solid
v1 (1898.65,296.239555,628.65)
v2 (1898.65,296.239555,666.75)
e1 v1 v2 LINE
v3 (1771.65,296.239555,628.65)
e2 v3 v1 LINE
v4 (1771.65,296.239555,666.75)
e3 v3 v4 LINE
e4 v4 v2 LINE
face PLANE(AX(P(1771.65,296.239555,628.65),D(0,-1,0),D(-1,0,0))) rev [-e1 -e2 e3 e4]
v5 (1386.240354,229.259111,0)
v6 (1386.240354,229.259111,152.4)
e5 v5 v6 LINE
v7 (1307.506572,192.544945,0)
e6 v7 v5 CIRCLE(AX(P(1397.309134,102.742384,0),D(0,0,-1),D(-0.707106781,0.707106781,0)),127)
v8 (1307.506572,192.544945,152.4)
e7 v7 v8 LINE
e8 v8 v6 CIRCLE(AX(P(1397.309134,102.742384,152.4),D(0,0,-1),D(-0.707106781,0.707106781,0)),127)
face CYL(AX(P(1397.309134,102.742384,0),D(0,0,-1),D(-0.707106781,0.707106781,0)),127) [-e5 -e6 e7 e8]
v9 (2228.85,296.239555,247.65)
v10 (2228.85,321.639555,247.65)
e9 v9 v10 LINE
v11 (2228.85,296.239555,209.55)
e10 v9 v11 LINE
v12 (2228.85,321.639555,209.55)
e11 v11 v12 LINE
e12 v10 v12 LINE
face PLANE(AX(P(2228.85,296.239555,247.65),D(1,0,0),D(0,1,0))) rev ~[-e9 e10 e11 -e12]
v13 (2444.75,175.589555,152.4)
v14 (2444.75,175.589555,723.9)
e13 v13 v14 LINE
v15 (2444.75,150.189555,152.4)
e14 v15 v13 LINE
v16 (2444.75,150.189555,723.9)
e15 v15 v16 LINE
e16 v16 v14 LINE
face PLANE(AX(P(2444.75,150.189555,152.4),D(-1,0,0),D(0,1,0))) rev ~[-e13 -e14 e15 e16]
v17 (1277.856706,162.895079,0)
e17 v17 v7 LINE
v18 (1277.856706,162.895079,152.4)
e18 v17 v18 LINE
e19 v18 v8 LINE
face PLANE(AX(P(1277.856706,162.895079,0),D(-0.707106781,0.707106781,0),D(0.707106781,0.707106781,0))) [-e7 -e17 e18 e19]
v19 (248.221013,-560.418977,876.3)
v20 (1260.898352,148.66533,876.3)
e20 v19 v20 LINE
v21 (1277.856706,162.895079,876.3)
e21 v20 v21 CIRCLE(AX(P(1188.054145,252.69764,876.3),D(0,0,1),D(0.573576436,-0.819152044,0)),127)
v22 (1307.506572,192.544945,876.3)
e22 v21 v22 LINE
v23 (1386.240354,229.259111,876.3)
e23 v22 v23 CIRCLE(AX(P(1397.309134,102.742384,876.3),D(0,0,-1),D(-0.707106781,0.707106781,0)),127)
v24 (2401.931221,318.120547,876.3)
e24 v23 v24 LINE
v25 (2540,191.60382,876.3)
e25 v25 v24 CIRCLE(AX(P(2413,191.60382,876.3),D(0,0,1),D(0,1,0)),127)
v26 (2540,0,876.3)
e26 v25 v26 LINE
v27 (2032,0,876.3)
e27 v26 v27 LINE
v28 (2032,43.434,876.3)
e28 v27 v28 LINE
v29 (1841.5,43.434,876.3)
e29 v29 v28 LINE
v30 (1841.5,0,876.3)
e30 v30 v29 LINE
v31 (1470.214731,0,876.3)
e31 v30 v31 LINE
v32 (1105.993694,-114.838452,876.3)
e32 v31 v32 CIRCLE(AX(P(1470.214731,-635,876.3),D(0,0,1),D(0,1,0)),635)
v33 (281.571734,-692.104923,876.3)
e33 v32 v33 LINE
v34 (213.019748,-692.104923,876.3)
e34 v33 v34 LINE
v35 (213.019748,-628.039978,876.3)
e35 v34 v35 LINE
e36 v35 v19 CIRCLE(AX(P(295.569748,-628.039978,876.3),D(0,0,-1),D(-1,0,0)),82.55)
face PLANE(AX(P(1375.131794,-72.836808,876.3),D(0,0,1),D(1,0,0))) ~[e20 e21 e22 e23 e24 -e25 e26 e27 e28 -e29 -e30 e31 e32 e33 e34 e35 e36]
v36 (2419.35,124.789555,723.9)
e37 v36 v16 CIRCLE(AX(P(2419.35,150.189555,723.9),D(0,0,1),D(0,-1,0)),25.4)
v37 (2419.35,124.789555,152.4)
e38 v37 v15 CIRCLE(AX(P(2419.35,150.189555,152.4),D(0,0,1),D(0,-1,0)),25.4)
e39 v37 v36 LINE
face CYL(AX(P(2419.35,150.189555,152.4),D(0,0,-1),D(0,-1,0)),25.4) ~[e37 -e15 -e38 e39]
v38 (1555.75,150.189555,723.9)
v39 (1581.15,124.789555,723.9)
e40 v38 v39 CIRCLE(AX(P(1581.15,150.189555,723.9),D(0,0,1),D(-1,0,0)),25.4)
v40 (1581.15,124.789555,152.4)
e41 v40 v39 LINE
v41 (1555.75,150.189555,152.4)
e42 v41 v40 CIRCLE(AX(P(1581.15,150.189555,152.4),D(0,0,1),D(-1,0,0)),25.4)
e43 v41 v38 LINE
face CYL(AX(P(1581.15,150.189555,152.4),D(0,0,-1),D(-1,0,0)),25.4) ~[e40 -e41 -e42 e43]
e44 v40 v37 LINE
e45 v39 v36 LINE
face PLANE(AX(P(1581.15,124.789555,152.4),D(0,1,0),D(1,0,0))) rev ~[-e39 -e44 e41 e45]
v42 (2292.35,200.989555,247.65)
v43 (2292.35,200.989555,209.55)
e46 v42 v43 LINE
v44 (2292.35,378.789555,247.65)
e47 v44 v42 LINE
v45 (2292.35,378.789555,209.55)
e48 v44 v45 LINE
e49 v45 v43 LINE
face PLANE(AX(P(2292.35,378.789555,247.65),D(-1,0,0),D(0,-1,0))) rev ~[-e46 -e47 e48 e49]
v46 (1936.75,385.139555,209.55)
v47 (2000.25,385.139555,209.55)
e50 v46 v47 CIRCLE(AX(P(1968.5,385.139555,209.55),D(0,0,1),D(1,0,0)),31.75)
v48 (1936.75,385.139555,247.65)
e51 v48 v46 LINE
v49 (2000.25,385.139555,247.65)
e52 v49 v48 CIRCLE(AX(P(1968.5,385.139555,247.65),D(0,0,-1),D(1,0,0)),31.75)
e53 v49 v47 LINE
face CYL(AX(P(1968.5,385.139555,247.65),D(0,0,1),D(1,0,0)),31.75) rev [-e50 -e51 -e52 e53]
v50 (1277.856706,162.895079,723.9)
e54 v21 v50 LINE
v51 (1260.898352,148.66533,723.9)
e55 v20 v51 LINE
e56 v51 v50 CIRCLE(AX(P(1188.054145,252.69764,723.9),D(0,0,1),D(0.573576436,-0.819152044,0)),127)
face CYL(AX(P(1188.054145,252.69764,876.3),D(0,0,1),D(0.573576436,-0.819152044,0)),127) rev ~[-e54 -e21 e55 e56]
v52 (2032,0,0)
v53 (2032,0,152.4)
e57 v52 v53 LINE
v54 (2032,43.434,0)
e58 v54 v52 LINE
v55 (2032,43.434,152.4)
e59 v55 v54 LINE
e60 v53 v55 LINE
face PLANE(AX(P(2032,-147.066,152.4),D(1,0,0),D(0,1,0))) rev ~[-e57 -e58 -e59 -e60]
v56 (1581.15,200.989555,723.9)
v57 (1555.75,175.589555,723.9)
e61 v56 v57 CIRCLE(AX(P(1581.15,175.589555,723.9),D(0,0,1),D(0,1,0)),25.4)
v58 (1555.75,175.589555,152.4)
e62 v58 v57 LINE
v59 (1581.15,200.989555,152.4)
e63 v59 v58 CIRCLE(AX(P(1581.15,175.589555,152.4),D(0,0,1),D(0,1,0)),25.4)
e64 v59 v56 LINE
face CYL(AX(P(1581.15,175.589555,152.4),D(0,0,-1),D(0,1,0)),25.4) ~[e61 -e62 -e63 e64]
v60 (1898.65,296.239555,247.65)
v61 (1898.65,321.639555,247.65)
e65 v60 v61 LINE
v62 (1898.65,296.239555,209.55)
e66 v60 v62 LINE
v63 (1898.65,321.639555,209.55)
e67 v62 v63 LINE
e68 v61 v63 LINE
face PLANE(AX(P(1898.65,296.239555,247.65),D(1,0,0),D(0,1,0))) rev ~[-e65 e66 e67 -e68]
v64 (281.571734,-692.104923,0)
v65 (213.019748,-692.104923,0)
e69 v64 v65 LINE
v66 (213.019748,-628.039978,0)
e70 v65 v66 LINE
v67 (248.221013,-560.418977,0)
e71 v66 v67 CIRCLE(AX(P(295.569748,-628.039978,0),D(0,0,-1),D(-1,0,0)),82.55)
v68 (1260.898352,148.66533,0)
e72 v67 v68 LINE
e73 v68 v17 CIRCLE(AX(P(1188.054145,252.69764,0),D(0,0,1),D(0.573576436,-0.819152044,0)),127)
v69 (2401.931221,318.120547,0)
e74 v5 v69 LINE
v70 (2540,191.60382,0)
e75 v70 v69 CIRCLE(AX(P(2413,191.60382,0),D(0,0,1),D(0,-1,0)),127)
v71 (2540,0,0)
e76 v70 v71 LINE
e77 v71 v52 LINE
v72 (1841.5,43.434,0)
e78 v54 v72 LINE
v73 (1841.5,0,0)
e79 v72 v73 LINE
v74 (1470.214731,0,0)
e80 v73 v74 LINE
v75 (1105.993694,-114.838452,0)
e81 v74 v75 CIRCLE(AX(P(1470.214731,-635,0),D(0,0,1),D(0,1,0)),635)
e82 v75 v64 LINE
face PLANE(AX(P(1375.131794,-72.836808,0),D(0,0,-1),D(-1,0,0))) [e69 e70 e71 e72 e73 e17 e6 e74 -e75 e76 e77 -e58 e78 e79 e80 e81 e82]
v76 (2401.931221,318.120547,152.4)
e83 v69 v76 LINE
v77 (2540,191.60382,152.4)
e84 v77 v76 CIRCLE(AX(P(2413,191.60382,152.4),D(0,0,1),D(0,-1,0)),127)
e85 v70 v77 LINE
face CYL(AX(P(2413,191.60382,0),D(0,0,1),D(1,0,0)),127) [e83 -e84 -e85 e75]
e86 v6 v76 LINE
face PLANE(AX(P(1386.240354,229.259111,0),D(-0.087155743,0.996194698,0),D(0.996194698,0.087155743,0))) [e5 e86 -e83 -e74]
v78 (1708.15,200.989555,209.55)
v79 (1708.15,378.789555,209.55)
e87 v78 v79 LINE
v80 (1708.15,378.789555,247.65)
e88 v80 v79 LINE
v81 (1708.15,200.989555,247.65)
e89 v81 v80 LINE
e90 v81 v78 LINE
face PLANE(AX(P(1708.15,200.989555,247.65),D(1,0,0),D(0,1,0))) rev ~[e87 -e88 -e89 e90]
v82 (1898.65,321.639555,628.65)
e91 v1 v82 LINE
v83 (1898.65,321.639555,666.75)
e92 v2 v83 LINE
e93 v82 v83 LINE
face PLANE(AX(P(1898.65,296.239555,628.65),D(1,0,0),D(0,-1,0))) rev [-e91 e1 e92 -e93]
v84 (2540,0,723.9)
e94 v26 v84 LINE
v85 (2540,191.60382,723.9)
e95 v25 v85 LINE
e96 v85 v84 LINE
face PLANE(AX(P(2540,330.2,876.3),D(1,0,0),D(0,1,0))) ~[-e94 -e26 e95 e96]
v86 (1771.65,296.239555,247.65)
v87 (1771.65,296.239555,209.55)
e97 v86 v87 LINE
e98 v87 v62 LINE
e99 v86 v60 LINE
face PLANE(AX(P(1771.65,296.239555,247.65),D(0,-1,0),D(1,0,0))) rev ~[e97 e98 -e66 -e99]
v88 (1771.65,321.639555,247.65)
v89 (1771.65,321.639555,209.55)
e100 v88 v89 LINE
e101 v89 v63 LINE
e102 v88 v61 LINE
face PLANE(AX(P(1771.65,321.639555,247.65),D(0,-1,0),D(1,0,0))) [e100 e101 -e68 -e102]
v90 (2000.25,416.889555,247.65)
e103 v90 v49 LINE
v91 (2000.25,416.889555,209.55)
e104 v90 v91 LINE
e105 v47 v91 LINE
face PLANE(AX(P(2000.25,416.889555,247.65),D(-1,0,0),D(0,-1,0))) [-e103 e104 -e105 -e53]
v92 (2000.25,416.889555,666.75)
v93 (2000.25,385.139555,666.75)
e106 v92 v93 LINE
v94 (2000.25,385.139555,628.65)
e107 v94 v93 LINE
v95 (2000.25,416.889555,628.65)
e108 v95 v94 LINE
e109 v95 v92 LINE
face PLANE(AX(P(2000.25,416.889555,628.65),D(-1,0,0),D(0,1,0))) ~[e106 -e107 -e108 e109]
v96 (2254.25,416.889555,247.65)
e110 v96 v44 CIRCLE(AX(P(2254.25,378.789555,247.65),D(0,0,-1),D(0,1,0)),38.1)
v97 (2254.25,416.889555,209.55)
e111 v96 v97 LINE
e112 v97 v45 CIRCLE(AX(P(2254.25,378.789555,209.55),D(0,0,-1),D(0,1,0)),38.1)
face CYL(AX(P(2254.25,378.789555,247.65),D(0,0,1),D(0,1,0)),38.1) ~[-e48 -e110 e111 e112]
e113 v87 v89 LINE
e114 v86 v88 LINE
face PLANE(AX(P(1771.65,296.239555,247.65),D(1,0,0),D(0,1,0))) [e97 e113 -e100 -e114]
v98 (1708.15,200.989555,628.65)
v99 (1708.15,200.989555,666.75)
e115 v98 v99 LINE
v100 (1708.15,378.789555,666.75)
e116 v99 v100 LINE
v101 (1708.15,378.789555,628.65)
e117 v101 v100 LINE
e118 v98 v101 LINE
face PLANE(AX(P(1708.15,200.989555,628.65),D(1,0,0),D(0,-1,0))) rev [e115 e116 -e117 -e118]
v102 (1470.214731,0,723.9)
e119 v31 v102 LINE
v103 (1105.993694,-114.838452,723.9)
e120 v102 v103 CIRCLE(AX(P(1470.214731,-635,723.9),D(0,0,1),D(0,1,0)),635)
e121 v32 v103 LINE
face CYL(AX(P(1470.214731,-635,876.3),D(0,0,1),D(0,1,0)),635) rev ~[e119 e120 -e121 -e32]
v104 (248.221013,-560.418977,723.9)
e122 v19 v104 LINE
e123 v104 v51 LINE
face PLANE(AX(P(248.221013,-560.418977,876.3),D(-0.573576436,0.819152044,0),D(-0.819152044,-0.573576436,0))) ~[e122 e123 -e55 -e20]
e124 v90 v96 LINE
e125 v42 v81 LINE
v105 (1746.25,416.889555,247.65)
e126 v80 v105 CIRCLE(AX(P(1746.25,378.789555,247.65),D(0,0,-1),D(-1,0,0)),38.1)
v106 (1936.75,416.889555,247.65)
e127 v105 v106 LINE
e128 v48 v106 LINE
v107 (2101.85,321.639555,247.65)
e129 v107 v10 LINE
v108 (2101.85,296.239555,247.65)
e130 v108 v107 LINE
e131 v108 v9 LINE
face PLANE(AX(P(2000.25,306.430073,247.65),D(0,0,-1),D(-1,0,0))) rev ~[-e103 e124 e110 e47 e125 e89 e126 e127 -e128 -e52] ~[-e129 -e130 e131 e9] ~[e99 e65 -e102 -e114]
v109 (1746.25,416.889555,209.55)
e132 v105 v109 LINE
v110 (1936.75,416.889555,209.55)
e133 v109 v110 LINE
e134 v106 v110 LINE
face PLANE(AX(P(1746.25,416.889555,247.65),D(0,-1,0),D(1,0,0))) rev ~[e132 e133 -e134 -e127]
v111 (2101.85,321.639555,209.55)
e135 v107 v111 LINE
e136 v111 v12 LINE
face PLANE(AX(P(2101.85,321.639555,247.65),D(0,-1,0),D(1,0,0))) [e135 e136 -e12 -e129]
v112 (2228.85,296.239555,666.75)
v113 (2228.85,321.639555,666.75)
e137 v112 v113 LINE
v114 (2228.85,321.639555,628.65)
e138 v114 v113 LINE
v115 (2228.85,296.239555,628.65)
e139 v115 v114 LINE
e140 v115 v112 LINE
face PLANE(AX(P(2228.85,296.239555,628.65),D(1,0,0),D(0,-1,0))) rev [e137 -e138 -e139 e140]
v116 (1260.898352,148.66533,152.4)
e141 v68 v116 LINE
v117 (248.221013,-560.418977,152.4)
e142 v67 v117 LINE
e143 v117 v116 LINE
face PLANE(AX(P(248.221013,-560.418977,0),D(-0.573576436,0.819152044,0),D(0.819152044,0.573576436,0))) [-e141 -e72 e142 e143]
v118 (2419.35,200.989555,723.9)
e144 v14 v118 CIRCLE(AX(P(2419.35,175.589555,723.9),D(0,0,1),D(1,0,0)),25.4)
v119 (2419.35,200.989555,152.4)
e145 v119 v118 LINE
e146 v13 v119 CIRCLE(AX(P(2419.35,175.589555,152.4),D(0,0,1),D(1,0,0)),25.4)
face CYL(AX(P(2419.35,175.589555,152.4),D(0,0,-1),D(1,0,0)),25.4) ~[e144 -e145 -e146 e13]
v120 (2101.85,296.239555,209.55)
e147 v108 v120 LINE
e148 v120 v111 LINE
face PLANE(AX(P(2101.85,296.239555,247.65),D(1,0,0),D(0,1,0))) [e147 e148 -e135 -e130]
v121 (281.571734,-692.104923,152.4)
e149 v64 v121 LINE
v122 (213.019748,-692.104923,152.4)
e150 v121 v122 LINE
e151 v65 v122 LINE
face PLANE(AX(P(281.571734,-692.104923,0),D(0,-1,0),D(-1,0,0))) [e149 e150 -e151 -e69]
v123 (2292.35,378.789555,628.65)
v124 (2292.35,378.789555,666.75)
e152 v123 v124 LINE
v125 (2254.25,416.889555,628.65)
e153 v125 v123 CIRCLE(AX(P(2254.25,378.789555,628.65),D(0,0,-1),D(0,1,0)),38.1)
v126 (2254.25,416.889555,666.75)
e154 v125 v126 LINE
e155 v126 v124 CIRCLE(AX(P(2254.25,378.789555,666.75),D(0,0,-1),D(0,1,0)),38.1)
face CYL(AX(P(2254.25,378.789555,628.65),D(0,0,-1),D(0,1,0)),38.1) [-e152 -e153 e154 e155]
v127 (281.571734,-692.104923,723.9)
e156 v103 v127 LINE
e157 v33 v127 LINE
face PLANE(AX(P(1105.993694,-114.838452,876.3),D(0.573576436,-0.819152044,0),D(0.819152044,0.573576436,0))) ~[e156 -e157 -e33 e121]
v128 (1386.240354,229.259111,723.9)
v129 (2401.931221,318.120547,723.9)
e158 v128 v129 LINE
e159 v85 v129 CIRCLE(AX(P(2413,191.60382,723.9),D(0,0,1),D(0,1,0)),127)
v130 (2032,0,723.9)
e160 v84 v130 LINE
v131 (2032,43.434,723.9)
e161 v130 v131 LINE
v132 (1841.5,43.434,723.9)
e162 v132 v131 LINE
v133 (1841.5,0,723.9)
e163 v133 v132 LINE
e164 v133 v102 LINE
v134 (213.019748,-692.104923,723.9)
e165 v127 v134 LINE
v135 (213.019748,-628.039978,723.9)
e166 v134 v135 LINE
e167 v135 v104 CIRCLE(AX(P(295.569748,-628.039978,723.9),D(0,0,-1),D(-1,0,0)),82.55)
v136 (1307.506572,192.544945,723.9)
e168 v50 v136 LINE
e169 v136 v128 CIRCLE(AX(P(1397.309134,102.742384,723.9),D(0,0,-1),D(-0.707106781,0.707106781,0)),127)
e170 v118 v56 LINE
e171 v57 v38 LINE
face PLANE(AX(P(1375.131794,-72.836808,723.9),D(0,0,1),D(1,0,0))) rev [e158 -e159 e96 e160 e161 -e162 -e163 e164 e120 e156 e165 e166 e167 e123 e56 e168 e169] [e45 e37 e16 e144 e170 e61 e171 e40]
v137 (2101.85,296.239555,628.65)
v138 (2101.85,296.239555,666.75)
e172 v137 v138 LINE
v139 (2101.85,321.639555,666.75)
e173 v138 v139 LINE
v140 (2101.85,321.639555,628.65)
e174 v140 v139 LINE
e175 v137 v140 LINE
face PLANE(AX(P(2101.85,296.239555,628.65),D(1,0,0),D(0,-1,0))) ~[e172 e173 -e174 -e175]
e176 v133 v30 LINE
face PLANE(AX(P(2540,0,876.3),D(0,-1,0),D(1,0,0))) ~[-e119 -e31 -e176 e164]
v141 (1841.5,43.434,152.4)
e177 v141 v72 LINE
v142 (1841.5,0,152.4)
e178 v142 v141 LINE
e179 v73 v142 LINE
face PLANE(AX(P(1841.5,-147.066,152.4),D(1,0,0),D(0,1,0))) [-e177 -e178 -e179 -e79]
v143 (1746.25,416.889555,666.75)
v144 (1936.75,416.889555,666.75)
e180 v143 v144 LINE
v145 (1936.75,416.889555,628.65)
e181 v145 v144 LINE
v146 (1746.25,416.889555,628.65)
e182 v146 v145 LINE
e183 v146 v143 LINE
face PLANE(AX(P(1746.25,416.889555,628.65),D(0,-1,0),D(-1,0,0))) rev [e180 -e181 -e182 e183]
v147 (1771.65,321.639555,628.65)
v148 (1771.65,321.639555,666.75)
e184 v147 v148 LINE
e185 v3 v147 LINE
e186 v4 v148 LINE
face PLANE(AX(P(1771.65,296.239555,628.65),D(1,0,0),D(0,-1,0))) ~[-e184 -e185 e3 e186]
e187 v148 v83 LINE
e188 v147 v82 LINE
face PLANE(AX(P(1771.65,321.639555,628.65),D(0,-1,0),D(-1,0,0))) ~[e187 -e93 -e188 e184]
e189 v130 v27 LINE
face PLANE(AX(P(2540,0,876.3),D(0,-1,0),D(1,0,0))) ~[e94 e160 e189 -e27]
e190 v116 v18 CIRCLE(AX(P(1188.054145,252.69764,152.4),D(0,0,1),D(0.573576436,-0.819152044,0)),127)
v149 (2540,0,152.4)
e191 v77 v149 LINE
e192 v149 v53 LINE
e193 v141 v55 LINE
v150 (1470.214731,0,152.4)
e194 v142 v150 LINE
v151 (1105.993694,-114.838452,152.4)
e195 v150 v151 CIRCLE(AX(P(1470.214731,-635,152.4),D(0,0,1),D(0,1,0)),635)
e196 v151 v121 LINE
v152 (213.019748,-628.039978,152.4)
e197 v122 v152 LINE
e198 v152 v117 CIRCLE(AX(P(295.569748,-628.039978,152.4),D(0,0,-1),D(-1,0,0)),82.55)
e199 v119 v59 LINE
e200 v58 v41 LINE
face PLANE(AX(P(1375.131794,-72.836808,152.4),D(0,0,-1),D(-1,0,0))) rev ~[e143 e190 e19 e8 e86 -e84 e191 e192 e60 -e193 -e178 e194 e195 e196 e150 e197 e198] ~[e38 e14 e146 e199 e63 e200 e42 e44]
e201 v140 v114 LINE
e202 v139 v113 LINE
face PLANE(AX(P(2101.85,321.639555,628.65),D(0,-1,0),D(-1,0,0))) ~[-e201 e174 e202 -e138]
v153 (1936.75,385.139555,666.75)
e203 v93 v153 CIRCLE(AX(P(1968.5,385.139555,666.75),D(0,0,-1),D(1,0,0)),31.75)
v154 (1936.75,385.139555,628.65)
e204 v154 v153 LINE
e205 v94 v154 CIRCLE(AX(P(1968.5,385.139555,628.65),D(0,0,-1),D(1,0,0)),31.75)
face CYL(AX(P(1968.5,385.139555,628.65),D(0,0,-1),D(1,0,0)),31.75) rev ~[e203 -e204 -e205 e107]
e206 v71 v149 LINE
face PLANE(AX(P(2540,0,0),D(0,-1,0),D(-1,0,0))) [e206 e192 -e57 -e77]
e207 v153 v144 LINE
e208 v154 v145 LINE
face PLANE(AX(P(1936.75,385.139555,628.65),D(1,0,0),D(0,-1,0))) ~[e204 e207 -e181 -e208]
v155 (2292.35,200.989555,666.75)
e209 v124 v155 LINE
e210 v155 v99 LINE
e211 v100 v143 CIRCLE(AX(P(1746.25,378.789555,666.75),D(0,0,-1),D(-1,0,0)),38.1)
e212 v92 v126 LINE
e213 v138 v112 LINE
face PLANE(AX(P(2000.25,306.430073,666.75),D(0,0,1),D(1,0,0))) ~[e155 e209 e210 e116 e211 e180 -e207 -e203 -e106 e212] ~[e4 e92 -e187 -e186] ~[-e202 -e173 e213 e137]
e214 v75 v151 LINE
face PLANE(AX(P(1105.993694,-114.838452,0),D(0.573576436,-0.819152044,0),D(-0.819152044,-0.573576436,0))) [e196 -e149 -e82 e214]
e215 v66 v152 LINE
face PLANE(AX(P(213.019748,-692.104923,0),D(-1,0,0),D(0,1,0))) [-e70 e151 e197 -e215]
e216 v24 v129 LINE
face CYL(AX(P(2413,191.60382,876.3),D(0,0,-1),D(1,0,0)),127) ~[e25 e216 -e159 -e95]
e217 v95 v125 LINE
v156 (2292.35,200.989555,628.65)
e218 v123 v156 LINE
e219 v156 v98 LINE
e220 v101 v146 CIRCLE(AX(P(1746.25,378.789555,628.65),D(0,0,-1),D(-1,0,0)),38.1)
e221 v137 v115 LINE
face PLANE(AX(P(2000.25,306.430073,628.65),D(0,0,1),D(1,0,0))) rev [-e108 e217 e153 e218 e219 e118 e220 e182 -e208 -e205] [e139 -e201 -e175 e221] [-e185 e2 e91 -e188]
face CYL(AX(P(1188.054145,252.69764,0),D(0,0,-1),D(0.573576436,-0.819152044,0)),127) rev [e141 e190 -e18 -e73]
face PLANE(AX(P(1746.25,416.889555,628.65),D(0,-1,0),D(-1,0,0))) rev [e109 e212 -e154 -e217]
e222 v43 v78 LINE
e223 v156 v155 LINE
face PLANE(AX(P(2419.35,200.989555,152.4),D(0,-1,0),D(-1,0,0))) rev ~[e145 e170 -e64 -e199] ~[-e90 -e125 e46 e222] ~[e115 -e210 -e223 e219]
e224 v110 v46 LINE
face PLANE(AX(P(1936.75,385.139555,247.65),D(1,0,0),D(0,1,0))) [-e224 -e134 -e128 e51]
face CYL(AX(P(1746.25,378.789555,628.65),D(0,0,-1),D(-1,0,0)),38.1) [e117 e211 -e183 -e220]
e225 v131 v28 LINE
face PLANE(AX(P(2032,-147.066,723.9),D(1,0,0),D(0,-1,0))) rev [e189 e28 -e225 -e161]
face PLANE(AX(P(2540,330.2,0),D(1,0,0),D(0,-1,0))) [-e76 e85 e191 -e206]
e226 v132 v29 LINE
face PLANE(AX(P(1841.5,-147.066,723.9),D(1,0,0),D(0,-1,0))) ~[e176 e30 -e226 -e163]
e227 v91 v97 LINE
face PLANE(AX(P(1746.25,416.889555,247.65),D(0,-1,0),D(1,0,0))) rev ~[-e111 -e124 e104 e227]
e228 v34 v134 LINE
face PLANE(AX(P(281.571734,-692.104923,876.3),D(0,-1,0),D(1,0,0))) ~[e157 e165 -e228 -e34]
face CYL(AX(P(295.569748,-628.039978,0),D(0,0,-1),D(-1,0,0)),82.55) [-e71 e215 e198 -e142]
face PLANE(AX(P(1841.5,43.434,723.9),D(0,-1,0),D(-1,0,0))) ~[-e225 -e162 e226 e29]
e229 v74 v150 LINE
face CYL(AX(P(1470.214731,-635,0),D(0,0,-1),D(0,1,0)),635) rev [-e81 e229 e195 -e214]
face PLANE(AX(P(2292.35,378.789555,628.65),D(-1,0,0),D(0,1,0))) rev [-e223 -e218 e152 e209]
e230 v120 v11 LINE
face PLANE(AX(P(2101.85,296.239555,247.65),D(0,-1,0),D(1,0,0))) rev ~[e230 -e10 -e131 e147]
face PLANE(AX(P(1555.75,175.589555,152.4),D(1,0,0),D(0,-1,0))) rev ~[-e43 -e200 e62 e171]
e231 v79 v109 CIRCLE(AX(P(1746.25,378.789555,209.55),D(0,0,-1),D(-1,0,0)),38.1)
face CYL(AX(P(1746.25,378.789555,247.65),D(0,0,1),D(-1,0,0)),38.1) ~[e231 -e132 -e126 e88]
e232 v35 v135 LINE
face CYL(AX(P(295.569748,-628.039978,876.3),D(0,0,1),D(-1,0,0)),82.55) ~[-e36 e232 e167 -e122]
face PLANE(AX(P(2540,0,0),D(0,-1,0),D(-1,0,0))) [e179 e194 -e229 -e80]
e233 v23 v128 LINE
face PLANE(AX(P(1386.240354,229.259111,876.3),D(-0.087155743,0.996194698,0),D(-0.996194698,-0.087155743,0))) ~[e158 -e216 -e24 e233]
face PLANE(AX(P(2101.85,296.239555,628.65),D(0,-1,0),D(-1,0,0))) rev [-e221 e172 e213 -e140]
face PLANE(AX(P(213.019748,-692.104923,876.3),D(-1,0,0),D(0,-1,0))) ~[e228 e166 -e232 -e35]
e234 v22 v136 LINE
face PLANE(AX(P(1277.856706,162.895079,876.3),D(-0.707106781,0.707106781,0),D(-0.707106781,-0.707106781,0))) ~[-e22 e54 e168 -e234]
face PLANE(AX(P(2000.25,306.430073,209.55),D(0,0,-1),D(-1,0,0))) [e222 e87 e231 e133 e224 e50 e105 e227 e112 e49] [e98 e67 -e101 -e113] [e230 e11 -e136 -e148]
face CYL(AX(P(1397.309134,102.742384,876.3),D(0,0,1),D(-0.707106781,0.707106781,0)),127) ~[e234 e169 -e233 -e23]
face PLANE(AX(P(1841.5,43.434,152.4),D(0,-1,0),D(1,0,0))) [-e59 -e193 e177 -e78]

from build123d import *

# Parameters (mm, degrees)
BOSS_EXTRUDE1_DEPTH  = 152.4
SKETCH2_W            = 190.5
SKETCH2_H            = 190.5
CUT_EXTRUDE1_DEPTH   = 254
BOSS_EXTRUDE2_DEPTH  = 571.5
FILLET1_R            = 127
FILLET1_OF_MIRROR1_R = 127
SKETCH8_W            = 127
SKETCH8_H            = 25.4
BOSS_EXTRUDE3_DEPTH  = 38.1
CUT_EXTRUDE2_DEPTH   = 43.18


with BuildPart() as part:
    # Sketch1 → Boss-Extrude1 (new body)
    with BuildSketch(Plane.XY):
        with BuildLine():
            Line((213.019747539, -692.104923164), (213.019747539, -628.039977762))
            ThreePointArc((213.019747539, -628.039977762), (222.347003261, -589.92262974), (248.221012719, -560.418976506))
            Line((248.221012719, -560.418976506), (1260.898352267, 148.66533042))
            ThreePointArc((1260.898352267, 148.66533042), (1269.688171281, 155.409995769), (1277.856706062, 162.895078834))
            Line((1277.856706062, 162.895078834), (1307.506572341, 192.544945114))
            ThreePointArc((1307.506572341, 192.544945114), (1343.636614311, 217.843472857), (1386.240354223, 229.259110561))
            Line((1386.240354223, 229.259110561), (2540, 330.2))
            Line((2540, 330.2), (2540, 0))
            Line((2540, 0), (1470.214730938, 0))
            ThreePointArc((1470.214730938, 0), (1279.266548253, -29.389736275), (1105.993693855, -114.838451876))
            Line((1105.993693855, -114.838451876), (281.571733527, -692.104923164))
            Line((281.571733527, -692.104923164), (213.019747539, -692.104923164))
        make_face()
    boss_extrude1 = extrude(amount=BOSS_EXTRUDE1_DEPTH)

    # Sketch2 → Cut-Extrude1 (cut)
    with BuildSketch(Plane.XY.offset(152.4)):
        with Locations((1936.75, -51.816)):
            Rectangle(SKETCH2_W, SKETCH2_H)
    cut_extrude1 = extrude(amount=-CUT_EXTRUDE1_DEPTH, mode=Mode.SUBTRACT)

    # Sketch4 → Boss-Extrude2 (add)
    with BuildSketch(Plane.XY.offset(152.4)):
        with BuildLine():
            Line((1581.15, 124.78955528), (2419.35, 124.78955528))
            ThreePointArc((2419.35, 124.78955528), (2437.310512242, 132.229043038), (2444.75, 150.18955528))
            Line((2444.75, 150.18955528), (2444.75, 175.58955528))
            ThreePointArc((2444.75, 175.58955528), (2437.310512242, 193.550067523), (2419.35, 200.98955528))
            Line((2419.35, 200.98955528), (1581.15, 200.98955528))
            ThreePointArc((1581.15, 200.98955528), (1563.189487758, 193.550067523), (1555.75, 175.58955528))
            Line((1555.75, 175.58955528), (1555.75, 150.18955528))
            ThreePointArc((1555.75, 150.18955528), (1563.189487758, 132.229043038), (1581.15, 124.78955528))
        make_face()
    extrude(amount=BOSS_EXTRUDE2_DEPTH)

    # Fillet1
    fillet1_edges = [part.edges().sort_by_distance(p)[0] for p in [
        (2540, 330.2, 76.2),
    ]]
    fillet(fillet1_edges, radius=FILLET1_R)

    # Mirror1: Boss-Extrude1, Cut-Extrude1 across plane
    add(boss_extrude1.mirror(Plane.XY.offset(438.15)))
    add(cut_extrude1.mirror(Plane.XY.offset(438.15)), mode=Mode.SUBTRACT)

    # Fillet1 of Mirror1
    fillet1_of_mirror1_edges = [part.edges().sort_by_distance(p)[0] for p in [
        (2540, 330.2, 800.1),
    ]]
    fillet(fillet1_of_mirror1_edges, radius=FILLET1_OF_MIRROR1_R)

    # Sketch8 → Boss-Extrude3 (add)
    with BuildSketch(Plane.XY.offset(247.65)):
        with BuildLine():
            Line((1708.15, 200.98955528), (1708.15, 378.78955528))
            ThreePointArc((1708.15, 378.78955528), (1719.309231637, 405.730323644), (1746.25, 416.88955528))
            Line((1746.25, 416.88955528), (2254.25, 416.88955528))
            ThreePointArc((2254.25, 416.88955528), (2281.190768363, 405.730323644), (2292.35, 378.78955528))
            Line((2292.35, 378.78955528), (2292.35, 200.98955528))
            Line((2292.35, 200.98955528), (1708.15, 200.98955528))
        make_face()
        with Locations((1835.15, 308.93955528)):
            Rectangle(SKETCH8_W, SKETCH8_H, mode=Mode.SUBTRACT)
        with Locations((2165.35, 308.93955528)):
            Rectangle(SKETCH8_W, SKETCH8_H, mode=Mode.SUBTRACT)
    boss_extrude3 = extrude(amount=-BOSS_EXTRUDE3_DEPTH)

    # Sketch9 → Cut-Extrude2 (cut)
    with BuildSketch(Plane.XY.offset(247.65)):
        with BuildLine():
            Line((1936.75, 385.13955528), (1936.75, 416.88955528))
            Line((1936.75, 416.88955528), (2000.25, 416.88955528))
            Line((2000.25, 416.88955528), (2000.25, 385.13955528))
            ThreePointArc((2000.25, 385.13955528), (1968.5, 353.38955528), (1936.75, 385.13955528))
        make_face()
    cut_extrude2 = extrude(amount=-CUT_EXTRUDE2_DEPTH, mode=Mode.SUBTRACT)

    # Mirror2: Boss-Extrude3, Cut-Extrude2 across plane
    add(boss_extrude3.mirror(Plane.XY.offset(438.15)))
    add(cut_extrude2.mirror(Plane.XY.offset(438.15)), mode=Mode.SUBTRACT)


solid = part.part
